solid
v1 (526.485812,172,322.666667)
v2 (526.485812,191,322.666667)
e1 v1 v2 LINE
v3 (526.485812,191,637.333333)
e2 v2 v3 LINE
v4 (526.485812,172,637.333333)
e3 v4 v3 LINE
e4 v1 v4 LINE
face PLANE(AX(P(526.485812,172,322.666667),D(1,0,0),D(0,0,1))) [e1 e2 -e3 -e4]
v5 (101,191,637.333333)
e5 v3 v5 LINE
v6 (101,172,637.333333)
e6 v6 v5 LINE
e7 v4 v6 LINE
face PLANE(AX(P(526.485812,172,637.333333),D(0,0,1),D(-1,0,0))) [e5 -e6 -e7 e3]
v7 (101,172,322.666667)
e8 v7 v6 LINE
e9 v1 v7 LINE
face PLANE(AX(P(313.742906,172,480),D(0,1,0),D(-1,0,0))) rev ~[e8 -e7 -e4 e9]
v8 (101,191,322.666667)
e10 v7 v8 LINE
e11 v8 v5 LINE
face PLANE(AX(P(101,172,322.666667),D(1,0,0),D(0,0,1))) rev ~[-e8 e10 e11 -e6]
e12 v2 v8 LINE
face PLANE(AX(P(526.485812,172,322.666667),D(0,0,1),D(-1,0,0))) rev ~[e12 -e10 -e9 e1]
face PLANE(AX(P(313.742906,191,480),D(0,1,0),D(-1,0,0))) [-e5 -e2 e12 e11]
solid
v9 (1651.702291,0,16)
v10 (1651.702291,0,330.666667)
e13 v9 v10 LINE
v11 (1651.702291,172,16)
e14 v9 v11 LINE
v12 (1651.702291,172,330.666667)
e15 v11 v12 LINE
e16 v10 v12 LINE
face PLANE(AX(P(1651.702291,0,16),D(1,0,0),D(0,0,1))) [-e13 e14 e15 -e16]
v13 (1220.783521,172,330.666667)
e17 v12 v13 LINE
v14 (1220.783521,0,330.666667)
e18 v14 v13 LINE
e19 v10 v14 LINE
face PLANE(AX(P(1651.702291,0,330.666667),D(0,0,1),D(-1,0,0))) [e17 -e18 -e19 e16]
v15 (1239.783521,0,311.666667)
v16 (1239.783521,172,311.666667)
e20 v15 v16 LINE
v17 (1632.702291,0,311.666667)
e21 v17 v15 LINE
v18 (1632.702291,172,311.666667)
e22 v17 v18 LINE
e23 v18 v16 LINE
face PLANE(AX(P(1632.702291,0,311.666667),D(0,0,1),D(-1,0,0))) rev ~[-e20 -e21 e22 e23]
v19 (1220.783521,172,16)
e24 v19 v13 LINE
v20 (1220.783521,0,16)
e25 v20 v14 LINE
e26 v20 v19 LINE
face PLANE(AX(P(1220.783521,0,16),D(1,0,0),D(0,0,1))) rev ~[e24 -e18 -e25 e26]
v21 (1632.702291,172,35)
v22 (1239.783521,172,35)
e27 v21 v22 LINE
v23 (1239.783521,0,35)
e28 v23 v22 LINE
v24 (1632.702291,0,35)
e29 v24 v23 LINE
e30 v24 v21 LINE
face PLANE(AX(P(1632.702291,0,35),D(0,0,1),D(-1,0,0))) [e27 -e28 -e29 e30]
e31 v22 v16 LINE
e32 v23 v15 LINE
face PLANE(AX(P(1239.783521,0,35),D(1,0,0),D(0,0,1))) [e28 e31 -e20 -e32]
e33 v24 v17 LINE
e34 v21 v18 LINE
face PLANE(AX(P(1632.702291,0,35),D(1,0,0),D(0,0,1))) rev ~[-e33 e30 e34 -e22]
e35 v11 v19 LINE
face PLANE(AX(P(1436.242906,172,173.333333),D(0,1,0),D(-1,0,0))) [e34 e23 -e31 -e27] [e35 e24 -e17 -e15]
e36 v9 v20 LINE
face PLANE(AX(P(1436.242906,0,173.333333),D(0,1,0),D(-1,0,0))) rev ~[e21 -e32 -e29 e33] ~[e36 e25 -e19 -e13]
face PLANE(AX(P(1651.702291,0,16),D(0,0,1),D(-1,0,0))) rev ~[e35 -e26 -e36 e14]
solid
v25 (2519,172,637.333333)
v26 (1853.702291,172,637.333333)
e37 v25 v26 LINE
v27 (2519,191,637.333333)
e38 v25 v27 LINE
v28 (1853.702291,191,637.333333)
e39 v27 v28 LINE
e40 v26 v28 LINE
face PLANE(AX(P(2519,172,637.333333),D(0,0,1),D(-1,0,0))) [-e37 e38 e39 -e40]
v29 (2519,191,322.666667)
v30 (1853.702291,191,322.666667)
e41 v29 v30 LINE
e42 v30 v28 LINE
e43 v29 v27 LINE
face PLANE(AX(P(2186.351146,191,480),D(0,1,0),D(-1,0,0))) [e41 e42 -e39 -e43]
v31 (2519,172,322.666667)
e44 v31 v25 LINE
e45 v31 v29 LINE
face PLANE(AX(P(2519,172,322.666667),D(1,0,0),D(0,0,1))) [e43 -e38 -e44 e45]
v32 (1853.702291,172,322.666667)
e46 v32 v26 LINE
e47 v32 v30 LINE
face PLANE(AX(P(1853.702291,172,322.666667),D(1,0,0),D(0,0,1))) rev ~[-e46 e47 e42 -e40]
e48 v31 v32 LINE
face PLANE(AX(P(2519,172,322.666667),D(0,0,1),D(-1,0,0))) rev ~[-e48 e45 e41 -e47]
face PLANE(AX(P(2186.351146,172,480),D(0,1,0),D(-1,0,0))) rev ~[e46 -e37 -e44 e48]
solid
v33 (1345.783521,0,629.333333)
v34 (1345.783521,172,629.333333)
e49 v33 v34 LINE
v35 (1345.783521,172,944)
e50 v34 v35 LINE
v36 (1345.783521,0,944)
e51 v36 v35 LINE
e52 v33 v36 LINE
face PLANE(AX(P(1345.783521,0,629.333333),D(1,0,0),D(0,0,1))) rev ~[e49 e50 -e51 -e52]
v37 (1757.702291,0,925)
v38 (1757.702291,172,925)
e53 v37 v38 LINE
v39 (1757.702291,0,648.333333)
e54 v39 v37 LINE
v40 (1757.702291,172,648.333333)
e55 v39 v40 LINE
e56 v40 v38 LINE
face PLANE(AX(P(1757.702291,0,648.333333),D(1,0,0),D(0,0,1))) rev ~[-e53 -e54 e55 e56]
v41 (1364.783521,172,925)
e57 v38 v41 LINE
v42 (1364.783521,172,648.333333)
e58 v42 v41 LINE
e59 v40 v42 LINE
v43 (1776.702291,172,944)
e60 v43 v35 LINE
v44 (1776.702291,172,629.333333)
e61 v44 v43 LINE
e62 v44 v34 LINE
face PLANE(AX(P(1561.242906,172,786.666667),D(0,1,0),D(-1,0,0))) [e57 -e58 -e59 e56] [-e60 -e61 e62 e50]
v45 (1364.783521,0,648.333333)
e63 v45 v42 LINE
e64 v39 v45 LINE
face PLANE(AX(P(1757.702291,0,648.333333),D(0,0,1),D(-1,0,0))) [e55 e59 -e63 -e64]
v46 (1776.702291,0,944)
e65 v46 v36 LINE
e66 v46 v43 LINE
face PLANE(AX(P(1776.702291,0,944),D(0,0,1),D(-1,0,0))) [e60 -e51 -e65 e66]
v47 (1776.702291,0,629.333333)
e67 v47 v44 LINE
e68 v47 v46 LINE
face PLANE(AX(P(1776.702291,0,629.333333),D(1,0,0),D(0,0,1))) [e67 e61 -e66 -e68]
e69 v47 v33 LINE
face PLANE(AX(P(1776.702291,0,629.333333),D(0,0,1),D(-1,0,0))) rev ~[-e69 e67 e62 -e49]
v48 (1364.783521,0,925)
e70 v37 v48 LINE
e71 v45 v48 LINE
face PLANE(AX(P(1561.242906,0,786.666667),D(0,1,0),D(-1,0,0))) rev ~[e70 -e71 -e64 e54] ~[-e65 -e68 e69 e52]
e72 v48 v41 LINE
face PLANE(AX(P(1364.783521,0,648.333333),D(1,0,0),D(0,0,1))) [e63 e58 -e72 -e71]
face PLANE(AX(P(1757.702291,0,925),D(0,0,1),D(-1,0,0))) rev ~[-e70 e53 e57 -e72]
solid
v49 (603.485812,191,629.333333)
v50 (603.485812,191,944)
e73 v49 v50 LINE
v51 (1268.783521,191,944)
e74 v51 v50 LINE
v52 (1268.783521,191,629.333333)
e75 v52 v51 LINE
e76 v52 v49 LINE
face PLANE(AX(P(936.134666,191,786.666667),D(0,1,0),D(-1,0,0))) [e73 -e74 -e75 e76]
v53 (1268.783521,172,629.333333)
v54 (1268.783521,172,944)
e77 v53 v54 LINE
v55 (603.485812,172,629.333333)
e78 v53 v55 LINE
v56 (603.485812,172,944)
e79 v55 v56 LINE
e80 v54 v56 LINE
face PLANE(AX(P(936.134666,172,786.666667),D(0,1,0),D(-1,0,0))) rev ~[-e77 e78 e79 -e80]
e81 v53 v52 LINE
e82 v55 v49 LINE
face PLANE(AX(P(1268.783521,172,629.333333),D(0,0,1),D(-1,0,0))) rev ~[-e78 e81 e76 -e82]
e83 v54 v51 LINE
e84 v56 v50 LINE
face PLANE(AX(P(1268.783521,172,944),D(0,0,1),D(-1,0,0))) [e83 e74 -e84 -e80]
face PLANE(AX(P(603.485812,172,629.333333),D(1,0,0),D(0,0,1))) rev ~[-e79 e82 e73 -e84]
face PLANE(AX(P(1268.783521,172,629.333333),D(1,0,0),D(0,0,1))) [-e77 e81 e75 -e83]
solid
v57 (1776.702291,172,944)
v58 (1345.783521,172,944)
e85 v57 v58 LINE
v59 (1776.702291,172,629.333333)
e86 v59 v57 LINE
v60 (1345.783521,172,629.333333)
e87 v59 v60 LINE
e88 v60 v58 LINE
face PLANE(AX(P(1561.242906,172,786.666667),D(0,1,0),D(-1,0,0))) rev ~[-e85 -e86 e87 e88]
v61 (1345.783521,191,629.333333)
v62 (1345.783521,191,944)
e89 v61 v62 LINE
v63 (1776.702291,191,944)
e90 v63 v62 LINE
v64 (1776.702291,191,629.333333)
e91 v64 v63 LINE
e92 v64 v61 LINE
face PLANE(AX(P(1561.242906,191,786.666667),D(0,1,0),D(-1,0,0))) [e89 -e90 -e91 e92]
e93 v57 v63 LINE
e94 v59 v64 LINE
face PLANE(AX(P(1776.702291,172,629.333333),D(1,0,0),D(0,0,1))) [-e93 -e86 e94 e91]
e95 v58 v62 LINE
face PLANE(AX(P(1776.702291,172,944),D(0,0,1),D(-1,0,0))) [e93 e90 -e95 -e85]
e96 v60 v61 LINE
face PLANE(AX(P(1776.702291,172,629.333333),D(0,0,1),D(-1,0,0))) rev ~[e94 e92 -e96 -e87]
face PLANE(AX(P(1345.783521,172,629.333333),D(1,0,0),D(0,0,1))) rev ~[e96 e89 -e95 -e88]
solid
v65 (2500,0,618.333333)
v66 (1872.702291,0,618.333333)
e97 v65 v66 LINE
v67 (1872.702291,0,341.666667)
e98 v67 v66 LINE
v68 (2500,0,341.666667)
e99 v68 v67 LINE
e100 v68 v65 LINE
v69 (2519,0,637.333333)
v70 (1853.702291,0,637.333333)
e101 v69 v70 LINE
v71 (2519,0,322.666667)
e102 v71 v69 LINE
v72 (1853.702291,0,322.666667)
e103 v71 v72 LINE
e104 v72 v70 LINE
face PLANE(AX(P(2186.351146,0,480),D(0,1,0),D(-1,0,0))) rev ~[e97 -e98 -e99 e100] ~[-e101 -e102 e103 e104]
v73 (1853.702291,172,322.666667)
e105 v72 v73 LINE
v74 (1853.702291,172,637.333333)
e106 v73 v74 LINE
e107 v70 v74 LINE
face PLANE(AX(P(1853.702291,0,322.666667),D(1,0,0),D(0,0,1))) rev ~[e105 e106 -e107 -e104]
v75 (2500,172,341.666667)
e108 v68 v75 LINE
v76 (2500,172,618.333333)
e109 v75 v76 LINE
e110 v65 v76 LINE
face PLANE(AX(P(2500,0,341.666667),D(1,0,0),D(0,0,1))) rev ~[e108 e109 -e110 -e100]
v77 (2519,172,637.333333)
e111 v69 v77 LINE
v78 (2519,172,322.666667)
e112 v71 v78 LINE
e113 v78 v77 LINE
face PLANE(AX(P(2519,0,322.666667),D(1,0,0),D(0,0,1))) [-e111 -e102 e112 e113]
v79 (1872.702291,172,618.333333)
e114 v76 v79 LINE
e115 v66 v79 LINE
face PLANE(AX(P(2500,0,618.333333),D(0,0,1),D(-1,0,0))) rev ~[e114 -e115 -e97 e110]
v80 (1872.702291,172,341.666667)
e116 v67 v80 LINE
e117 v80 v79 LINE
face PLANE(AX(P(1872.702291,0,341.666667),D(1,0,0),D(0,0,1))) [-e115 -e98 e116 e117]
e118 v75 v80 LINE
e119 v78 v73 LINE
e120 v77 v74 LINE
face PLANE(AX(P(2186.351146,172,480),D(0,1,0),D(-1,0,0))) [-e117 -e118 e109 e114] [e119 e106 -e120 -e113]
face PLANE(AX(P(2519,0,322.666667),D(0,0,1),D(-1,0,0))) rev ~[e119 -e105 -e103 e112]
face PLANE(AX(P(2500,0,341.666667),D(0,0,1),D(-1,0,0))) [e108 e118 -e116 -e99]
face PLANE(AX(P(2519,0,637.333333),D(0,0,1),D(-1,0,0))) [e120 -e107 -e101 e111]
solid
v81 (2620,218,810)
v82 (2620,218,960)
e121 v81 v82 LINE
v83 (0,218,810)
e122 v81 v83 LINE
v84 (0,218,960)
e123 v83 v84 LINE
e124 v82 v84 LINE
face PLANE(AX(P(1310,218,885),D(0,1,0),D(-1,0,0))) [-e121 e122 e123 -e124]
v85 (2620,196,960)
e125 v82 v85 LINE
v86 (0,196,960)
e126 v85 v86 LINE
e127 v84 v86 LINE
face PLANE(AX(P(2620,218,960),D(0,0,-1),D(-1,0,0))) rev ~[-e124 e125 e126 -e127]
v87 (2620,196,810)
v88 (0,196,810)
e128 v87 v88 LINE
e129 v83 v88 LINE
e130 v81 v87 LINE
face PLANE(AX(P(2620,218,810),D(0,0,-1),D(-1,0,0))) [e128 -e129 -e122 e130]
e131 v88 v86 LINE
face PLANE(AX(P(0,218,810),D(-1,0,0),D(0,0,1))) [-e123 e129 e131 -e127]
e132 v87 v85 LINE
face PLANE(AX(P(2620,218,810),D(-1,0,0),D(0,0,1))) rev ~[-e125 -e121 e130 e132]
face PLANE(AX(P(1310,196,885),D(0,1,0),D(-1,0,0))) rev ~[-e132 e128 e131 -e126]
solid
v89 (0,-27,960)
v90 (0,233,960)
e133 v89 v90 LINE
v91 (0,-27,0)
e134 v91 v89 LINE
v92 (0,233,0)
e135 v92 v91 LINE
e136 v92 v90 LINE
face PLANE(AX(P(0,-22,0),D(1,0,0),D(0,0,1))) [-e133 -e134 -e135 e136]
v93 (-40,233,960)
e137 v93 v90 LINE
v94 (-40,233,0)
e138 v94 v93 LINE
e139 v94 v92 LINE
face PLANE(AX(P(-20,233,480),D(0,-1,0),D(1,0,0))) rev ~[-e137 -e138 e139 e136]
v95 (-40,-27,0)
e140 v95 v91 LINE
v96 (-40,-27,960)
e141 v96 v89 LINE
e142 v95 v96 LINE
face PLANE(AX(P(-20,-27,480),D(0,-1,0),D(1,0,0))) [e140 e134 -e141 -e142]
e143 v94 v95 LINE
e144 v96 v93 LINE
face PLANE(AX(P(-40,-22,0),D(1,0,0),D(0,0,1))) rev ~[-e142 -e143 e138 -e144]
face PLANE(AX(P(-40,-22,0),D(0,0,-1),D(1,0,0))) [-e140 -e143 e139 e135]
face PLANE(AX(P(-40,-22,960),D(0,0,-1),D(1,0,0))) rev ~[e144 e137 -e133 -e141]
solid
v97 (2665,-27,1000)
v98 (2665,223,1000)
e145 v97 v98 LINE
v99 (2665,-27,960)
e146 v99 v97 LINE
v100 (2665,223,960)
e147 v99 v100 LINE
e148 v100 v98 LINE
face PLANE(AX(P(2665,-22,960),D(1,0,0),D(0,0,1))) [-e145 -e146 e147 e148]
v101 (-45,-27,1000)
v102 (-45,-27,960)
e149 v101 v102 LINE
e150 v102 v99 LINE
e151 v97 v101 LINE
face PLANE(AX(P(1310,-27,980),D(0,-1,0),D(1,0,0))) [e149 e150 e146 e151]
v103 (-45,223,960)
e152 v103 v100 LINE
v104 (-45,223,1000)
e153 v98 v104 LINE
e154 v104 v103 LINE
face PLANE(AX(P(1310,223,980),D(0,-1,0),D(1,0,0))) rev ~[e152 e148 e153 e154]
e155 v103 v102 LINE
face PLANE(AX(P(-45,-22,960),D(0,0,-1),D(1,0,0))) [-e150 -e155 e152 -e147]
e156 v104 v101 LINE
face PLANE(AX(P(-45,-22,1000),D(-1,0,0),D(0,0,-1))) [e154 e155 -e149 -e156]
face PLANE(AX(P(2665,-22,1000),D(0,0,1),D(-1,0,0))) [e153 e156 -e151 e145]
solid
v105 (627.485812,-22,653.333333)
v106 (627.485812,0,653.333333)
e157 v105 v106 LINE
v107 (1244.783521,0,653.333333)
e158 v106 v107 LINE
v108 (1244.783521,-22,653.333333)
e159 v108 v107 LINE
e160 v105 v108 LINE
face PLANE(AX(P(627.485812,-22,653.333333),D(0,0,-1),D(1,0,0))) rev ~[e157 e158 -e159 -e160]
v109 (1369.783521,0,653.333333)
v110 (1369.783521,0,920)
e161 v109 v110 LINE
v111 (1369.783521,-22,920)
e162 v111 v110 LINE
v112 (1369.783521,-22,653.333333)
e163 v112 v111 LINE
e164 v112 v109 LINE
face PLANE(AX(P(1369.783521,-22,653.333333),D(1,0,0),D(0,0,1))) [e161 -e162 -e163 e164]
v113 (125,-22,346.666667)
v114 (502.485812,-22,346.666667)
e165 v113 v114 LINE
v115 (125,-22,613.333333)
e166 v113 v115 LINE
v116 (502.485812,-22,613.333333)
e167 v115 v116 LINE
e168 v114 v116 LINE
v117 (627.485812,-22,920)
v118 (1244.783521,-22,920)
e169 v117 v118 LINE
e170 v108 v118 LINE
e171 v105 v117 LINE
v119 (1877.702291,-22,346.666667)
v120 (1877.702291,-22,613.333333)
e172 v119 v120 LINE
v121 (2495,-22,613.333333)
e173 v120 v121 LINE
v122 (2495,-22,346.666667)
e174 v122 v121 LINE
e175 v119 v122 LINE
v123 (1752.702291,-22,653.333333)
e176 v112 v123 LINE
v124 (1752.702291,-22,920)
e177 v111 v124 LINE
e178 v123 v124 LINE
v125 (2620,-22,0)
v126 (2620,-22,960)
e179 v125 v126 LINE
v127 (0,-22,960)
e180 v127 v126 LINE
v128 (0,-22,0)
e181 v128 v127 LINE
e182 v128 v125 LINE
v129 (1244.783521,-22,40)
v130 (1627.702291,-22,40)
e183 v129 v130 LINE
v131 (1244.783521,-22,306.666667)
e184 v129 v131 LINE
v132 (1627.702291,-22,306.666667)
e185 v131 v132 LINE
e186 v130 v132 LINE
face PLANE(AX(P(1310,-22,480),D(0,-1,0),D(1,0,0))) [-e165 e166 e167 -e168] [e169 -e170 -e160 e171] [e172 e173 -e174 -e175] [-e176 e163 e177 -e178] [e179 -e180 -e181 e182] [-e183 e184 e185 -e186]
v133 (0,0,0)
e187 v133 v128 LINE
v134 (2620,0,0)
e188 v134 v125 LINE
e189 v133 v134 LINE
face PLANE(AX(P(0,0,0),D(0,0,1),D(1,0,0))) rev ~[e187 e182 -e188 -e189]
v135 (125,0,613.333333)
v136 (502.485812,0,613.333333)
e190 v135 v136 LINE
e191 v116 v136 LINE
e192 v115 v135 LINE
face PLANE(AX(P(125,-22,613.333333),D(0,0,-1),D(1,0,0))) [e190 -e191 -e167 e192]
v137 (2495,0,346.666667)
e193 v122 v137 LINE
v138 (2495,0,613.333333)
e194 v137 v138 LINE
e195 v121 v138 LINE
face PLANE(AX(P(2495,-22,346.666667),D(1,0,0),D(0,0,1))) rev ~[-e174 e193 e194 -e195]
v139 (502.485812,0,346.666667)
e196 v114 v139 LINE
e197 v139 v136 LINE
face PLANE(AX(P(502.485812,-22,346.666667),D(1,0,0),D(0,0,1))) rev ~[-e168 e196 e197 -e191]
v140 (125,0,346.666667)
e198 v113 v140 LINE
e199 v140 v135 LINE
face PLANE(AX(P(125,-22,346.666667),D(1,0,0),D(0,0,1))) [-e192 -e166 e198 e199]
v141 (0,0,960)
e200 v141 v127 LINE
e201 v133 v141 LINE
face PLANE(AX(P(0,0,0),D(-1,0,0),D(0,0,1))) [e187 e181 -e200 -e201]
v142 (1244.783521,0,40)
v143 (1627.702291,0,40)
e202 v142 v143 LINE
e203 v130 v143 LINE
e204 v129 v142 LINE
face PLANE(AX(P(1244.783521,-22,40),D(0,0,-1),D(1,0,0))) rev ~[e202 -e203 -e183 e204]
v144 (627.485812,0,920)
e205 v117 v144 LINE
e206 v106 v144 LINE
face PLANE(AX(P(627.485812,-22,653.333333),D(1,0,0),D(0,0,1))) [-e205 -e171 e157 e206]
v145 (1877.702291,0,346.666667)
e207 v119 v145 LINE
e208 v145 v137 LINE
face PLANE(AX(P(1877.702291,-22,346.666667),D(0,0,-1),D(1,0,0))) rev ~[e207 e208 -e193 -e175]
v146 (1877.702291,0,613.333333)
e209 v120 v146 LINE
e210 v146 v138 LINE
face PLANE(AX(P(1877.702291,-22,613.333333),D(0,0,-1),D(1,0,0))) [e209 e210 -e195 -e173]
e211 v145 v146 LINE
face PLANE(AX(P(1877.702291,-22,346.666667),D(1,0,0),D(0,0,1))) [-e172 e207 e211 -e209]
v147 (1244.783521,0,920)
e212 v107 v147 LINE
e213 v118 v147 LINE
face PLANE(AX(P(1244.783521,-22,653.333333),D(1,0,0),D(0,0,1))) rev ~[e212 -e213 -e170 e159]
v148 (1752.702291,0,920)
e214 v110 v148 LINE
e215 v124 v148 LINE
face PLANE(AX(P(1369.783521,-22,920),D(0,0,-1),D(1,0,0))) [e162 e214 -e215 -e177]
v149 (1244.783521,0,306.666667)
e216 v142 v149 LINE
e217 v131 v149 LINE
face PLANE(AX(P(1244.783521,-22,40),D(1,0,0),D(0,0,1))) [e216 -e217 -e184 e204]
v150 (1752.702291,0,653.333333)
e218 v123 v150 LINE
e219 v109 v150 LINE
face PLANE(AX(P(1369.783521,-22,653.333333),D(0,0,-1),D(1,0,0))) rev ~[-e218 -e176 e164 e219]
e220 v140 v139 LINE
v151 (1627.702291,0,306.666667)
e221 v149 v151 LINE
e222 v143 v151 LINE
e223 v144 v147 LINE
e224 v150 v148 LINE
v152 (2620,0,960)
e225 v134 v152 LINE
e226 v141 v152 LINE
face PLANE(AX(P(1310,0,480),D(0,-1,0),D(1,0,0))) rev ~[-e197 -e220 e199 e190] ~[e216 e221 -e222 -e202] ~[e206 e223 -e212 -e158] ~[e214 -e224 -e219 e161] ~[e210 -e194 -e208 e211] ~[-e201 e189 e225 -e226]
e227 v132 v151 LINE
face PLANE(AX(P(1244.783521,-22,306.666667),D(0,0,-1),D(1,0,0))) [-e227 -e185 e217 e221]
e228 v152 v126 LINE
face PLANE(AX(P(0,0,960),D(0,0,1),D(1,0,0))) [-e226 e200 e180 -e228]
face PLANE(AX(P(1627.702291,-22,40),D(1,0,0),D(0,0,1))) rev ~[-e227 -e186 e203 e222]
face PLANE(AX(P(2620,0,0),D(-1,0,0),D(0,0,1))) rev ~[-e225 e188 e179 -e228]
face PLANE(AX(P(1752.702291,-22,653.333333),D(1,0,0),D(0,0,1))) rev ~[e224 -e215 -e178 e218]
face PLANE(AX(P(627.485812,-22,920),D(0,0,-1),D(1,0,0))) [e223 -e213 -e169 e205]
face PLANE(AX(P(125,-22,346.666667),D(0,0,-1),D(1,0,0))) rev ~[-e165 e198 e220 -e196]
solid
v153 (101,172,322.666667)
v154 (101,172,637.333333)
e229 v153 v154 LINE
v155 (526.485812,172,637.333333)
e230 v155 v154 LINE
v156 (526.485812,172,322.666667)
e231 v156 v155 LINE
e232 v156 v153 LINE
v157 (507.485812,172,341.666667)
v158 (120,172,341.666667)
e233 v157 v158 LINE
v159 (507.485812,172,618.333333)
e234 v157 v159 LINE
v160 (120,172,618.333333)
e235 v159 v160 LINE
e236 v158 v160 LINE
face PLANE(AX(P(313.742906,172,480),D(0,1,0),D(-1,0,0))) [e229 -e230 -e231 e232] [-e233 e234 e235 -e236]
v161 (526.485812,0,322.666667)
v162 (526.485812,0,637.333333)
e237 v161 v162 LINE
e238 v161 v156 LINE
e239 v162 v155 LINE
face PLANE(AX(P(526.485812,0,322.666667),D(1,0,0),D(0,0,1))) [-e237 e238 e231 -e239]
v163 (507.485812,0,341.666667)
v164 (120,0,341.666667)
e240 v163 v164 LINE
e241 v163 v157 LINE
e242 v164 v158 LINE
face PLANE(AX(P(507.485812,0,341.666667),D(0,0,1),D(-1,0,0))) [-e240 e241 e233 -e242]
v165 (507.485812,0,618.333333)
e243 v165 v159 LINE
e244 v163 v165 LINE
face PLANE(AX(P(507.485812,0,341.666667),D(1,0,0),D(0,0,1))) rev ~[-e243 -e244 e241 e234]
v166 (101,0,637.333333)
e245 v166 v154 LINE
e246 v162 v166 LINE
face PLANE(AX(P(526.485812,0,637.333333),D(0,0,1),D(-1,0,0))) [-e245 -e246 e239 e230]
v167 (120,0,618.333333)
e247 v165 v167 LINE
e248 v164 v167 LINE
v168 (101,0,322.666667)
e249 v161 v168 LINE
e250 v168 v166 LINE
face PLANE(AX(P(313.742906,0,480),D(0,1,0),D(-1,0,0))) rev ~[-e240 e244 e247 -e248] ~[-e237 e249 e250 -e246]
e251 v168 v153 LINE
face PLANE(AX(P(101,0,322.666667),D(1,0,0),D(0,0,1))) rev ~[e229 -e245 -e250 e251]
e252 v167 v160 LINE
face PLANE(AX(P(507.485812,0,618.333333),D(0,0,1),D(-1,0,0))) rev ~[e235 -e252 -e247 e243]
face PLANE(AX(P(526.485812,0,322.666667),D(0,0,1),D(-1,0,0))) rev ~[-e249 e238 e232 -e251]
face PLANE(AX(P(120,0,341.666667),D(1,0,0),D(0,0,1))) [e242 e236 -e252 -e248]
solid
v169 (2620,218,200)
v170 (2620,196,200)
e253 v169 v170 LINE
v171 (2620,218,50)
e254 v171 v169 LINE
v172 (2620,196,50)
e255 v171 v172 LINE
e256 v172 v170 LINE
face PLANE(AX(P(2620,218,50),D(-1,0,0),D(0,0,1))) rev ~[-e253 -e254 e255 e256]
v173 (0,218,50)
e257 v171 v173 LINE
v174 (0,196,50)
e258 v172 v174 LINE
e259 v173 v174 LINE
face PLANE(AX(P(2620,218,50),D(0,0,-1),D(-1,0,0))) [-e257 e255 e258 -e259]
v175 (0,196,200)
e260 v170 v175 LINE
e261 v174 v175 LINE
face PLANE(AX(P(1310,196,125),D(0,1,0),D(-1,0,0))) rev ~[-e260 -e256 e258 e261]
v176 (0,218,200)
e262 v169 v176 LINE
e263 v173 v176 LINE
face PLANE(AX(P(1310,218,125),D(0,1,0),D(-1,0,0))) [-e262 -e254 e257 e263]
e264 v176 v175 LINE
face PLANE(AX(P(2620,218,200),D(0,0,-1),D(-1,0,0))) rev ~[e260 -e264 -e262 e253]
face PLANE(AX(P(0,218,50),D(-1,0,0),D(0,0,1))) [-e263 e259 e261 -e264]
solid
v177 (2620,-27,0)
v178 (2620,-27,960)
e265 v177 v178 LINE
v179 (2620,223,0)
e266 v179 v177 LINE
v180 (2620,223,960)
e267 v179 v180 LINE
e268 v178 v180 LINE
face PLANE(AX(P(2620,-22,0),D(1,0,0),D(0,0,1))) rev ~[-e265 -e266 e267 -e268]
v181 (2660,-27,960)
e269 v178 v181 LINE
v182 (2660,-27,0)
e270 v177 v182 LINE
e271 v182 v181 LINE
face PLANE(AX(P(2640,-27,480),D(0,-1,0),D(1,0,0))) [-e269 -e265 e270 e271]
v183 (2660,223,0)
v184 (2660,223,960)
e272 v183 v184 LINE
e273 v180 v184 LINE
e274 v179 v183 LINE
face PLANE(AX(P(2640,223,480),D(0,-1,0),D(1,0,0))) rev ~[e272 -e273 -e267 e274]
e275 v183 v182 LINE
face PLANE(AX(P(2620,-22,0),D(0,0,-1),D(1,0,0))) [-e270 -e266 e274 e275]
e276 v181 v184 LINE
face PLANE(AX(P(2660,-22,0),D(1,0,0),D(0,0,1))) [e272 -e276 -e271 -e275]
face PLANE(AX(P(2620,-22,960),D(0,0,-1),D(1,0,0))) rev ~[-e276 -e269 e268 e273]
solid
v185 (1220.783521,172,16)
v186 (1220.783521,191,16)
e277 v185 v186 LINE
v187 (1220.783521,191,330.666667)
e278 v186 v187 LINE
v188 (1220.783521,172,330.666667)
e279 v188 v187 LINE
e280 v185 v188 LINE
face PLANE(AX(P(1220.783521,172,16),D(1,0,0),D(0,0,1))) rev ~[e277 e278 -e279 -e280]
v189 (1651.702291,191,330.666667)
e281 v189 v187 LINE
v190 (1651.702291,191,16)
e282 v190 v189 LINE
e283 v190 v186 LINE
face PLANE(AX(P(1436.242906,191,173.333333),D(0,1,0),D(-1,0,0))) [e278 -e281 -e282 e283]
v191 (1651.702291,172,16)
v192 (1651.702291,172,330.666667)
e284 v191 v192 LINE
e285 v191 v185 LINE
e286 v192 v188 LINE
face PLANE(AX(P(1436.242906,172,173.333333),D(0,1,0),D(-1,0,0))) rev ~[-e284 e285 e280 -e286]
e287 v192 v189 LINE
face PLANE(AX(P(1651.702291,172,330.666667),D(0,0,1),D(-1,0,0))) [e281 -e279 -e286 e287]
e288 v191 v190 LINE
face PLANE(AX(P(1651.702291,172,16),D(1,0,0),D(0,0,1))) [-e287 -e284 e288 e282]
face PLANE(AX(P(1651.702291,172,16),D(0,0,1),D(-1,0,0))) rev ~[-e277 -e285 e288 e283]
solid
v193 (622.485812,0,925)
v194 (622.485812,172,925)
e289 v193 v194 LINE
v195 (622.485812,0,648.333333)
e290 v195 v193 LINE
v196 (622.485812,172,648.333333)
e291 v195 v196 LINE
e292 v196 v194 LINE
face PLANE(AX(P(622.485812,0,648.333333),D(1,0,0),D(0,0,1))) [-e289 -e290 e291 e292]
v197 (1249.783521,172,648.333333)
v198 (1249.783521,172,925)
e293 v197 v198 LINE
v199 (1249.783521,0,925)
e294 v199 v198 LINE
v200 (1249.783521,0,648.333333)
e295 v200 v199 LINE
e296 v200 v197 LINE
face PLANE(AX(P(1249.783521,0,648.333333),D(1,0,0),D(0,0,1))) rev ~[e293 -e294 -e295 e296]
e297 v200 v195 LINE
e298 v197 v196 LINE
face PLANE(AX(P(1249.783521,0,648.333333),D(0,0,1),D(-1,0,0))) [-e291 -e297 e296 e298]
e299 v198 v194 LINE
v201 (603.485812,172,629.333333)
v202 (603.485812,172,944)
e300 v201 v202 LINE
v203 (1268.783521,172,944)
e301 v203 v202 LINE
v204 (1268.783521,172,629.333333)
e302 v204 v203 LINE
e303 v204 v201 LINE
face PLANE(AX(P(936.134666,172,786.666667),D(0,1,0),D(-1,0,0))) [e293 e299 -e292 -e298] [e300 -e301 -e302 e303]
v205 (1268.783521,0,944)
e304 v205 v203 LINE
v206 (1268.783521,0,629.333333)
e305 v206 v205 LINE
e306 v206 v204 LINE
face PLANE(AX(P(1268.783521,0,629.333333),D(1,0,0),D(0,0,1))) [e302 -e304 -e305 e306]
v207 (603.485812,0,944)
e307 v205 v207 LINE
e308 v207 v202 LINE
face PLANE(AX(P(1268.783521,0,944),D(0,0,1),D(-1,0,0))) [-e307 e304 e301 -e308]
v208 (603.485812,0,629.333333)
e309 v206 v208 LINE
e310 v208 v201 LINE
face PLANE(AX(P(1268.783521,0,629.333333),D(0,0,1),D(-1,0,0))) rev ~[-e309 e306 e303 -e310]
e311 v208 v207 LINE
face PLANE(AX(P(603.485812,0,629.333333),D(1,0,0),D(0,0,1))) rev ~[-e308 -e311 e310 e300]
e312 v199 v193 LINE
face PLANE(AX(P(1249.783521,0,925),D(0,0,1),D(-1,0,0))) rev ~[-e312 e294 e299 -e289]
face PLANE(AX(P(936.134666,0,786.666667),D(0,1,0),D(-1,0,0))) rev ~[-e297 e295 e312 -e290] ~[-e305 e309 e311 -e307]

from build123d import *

# Parameters (mm, degrees)
F1_W          = 2620
F1_H          = 960
F2_DEPTH      = 22
F3_W          = 377.4858117104
F3_H          = 266.6666666667
F3_W_2        = 617.2977089882
F3_W_3        = 382.9187703133
F4_DEPTH      = 22
F5_W          = 40
F5_H          = 960
F6_DEPTH      = 5
F6_DEPTH_BACK = 255
F7_DEPTH      = 5
F7_DEPTH_BACK = 245
F8_DEPTH      = 5
F8_DEPTH_BACK = 245
F9_W          = 665.2977089882
F9_H          = 314.6666666667
F9_W_2        = 627.2977089882
F9_H_2        = 276.6666666667
F10_DEPTH     = 172
F9_W_3        = 430.9187703133
F9_W_4        = 392.9187703133
F9_W_5        = 425.4858117104
F9_W_6        = 387.4858117104
F11_W         = 665.2977089882
F11_H         = 314.6666666667
F12_DEPTH     = 19
F11_W_2       = 430.9187703133
F11_W_3       = 425.4858117104
F14_W         = 2620
F14_H         = 150
F15_DEPTH     = 22


with BuildPart() as f2:
    # F1 (on Front) → F2 (new body)
    with BuildSketch(Plane.XZ):
        with Locations((1310, 480)):
            Rectangle(F1_W, F1_H)
    extrude(amount=F2_DEPTH)

    # F3 (on face) → F4 (cut, through all)
    with BuildSketch(Plane.XZ.offset(22)):
        with Locations((313.7429058552, 480)):
            Rectangle(F3_W, F3_H)
        with Locations((936.1346662045, 786.6666666667)):
            Rectangle(F3_W_2, F3_H)
        with Locations((1561.2429058552, 786.6666666667)):
            Rectangle(F3_W_3, F3_H)
        with Locations((1436.2429058552, 173.3333333333)):
            Rectangle(F3_W_3, F3_H)
        with Locations((2186.3511455059, 480)):
            Rectangle(F3_W_2, F3_H)
    extrude(amount=-F4_DEPTH, mode=Mode.SUBTRACT)


with BuildPart() as f6:
    # F5 (on face) → F6 (new body, two sides)
    with BuildSketch(Plane.XZ.offset(22)) as f6_sk:
        with Locations((-20, 480)):
            Rectangle(F5_W, F5_H)
    extrude(amount=F6_DEPTH)
    extrude(f6_sk.sketch, amount=-F6_DEPTH_BACK)


with BuildPart() as f7:
    # F5 (on face) → F7 (new body, two sides)
    with BuildSketch(Plane.XZ.offset(22)) as f7_sk:
        with Locations((2640, 480)):
            Rectangle(F5_W, F5_H)
    extrude(amount=F7_DEPTH)
    extrude(f7_sk.sketch, amount=-F7_DEPTH_BACK)


with BuildPart() as f8:
    # F5 (on face) → F8 (new body, two sides)
    with BuildSketch(Plane.XZ.offset(22)) as f8_sk:
        Polygon((2665, 1000), (-45, 1000), (-45, 960), (-40, 960), (0, 960), (2620, 960), (2660, 960), (2665, 960), align=None)
    extrude(amount=F8_DEPTH)
    extrude(f8_sk.sketch, amount=-F8_DEPTH_BACK)


with BuildPart() as f10:
    # F9 (on face) → F10 (new body)
    with BuildSketch(Plane(origin=(0, 0, 0), x_dir=(-1, 0, 0), z_dir=(0, 1, 0))):
        with Locations((-2186.3511455059, 480)):
            Rectangle(F9_W, F9_H)
        with Locations((-2186.3511455059, 480)):
            Rectangle(F9_W_2, F9_H_2, mode=Mode.SUBTRACT)
    extrude(amount=F10_DEPTH)


with BuildPart() as f10b:
    # F9 (on face) → F10, piece 2 (new body)
    with BuildSketch(Plane(origin=(0, 0, 0), x_dir=(-1, 0, 0), z_dir=(0, 1, 0))):
        with Locations((-1561.2429058552, 786.6666666667)):
            Rectangle(F9_W_3, F9_H)
        with Locations((-1561.2429058552, 786.6666666667)):
            Rectangle(F9_W_4, F9_H_2, mode=Mode.SUBTRACT)
    extrude(amount=F10_DEPTH)


with BuildPart() as f10c:
    # F9 (on face) → F10, piece 3 (new body)
    with BuildSketch(Plane(origin=(0, 0, 0), x_dir=(-1, 0, 0), z_dir=(0, 1, 0))):
        with Locations((-936.1346662045, 786.6666666667)):
            Rectangle(F9_W, F9_H)
        with Locations((-936.1346662045, 786.6666666667)):
            Rectangle(F9_W_2, F9_H_2, mode=Mode.SUBTRACT)
    extrude(amount=F10_DEPTH)


with BuildPart() as f10d:
    # F9 (on face) → F10, piece 4 (new body)
    with BuildSketch(Plane(origin=(0, 0, 0), x_dir=(-1, 0, 0), z_dir=(0, 1, 0))):
        with Locations((-313.7429058552, 480)):
            Rectangle(F9_W_5, F9_H)
        with Locations((-313.7429058552, 480)):
            Rectangle(F9_W_6, F9_H_2, mode=Mode.SUBTRACT)
    extrude(amount=F10_DEPTH)


with BuildPart() as f10e:
    # F9 (on face) → F10, piece 5 (new body)
    with BuildSketch(Plane(origin=(0, 0, 0), x_dir=(-1, 0, 0), z_dir=(0, 1, 0))):
        with Locations((-1436.2429058552, 173.3333333333)):
            Rectangle(F9_W_3, F9_H)
        with Locations((-1436.2429058552, 173.3333333333)):
            Rectangle(F9_W_4, F9_H_2, mode=Mode.SUBTRACT)
    extrude(amount=F10_DEPTH)


with BuildPart() as f12:
    # F11 (on face) → F12 (new body)
    with BuildSketch(Plane(origin=(0, 172, 0), x_dir=(-1, 0, 0), z_dir=(0, 1, 0))):
        with Locations((-2186.3511455059, 480)):
            Rectangle(F11_W, F11_H)
    extrude(amount=F12_DEPTH)


with BuildPart() as f12b:
    # F11 (on face) → F12, piece 2 (new body)
    with BuildSketch(Plane(origin=(0, 172, 0), x_dir=(-1, 0, 0), z_dir=(0, 1, 0))):
        with Locations((-1561.2429058552, 786.6666666667)):
            Rectangle(F11_W_2, F11_H)
    extrude(amount=F12_DEPTH)


with BuildPart() as f12c:
    # F11 (on face) → F12, piece 3 (new body)
    with BuildSketch(Plane(origin=(0, 172, 0), x_dir=(-1, 0, 0), z_dir=(0, 1, 0))):
        with Locations((-936.1346662045, 786.6666666667)):
            Rectangle(F11_W, F11_H)
    extrude(amount=F12_DEPTH)


with BuildPart() as f12d:
    # F11 (on face) → F12, piece 4 (new body)
    with BuildSketch(Plane(origin=(0, 172, 0), x_dir=(-1, 0, 0), z_dir=(0, 1, 0))):
        with Locations((-1436.2429058552, 173.3333333333)):
            Rectangle(F11_W_2, F11_H)
    extrude(amount=F12_DEPTH)


with BuildPart() as f12e:
    # F11 (on face) → F12, piece 5 (new body)
    with BuildSketch(Plane(origin=(0, 172, 0), x_dir=(-1, 0, 0), z_dir=(0, 1, 0))):
        with Locations((-313.7429058552, 480)):
            Rectangle(F11_W_3, F11_H)
    extrude(amount=F12_DEPTH)


with BuildPart() as f15:
    # F14 (on offset) → F15 (new body)
    with BuildSketch(Plane(origin=(0, 218, 0), x_dir=(-1, 0, 0), z_dir=(0, 1, 0))):
        with Locations((-1310, 885)):
            Rectangle(F14_W, F14_H)
    extrude(amount=-F15_DEPTH)


with BuildPart() as f15b:
    # F14 (on offset) → F15, piece 2 (new body)
    with BuildSketch(Plane(origin=(0, 218, 0), x_dir=(-1, 0, 0), z_dir=(0, 1, 0))):
        with Locations((-1310, 125)):
            Rectangle(F14_W, F14_H)
    extrude(amount=-F15_DEPTH)


solid = Compound([f2.part, f6.part, f7.part, f8.part, f10.part, f10b.part, f10c.part, f10d.part, f10e.part, f12.part, f12b.part, f12c.part, f12d.part, f12e.part, f15.part, f15b.part])
